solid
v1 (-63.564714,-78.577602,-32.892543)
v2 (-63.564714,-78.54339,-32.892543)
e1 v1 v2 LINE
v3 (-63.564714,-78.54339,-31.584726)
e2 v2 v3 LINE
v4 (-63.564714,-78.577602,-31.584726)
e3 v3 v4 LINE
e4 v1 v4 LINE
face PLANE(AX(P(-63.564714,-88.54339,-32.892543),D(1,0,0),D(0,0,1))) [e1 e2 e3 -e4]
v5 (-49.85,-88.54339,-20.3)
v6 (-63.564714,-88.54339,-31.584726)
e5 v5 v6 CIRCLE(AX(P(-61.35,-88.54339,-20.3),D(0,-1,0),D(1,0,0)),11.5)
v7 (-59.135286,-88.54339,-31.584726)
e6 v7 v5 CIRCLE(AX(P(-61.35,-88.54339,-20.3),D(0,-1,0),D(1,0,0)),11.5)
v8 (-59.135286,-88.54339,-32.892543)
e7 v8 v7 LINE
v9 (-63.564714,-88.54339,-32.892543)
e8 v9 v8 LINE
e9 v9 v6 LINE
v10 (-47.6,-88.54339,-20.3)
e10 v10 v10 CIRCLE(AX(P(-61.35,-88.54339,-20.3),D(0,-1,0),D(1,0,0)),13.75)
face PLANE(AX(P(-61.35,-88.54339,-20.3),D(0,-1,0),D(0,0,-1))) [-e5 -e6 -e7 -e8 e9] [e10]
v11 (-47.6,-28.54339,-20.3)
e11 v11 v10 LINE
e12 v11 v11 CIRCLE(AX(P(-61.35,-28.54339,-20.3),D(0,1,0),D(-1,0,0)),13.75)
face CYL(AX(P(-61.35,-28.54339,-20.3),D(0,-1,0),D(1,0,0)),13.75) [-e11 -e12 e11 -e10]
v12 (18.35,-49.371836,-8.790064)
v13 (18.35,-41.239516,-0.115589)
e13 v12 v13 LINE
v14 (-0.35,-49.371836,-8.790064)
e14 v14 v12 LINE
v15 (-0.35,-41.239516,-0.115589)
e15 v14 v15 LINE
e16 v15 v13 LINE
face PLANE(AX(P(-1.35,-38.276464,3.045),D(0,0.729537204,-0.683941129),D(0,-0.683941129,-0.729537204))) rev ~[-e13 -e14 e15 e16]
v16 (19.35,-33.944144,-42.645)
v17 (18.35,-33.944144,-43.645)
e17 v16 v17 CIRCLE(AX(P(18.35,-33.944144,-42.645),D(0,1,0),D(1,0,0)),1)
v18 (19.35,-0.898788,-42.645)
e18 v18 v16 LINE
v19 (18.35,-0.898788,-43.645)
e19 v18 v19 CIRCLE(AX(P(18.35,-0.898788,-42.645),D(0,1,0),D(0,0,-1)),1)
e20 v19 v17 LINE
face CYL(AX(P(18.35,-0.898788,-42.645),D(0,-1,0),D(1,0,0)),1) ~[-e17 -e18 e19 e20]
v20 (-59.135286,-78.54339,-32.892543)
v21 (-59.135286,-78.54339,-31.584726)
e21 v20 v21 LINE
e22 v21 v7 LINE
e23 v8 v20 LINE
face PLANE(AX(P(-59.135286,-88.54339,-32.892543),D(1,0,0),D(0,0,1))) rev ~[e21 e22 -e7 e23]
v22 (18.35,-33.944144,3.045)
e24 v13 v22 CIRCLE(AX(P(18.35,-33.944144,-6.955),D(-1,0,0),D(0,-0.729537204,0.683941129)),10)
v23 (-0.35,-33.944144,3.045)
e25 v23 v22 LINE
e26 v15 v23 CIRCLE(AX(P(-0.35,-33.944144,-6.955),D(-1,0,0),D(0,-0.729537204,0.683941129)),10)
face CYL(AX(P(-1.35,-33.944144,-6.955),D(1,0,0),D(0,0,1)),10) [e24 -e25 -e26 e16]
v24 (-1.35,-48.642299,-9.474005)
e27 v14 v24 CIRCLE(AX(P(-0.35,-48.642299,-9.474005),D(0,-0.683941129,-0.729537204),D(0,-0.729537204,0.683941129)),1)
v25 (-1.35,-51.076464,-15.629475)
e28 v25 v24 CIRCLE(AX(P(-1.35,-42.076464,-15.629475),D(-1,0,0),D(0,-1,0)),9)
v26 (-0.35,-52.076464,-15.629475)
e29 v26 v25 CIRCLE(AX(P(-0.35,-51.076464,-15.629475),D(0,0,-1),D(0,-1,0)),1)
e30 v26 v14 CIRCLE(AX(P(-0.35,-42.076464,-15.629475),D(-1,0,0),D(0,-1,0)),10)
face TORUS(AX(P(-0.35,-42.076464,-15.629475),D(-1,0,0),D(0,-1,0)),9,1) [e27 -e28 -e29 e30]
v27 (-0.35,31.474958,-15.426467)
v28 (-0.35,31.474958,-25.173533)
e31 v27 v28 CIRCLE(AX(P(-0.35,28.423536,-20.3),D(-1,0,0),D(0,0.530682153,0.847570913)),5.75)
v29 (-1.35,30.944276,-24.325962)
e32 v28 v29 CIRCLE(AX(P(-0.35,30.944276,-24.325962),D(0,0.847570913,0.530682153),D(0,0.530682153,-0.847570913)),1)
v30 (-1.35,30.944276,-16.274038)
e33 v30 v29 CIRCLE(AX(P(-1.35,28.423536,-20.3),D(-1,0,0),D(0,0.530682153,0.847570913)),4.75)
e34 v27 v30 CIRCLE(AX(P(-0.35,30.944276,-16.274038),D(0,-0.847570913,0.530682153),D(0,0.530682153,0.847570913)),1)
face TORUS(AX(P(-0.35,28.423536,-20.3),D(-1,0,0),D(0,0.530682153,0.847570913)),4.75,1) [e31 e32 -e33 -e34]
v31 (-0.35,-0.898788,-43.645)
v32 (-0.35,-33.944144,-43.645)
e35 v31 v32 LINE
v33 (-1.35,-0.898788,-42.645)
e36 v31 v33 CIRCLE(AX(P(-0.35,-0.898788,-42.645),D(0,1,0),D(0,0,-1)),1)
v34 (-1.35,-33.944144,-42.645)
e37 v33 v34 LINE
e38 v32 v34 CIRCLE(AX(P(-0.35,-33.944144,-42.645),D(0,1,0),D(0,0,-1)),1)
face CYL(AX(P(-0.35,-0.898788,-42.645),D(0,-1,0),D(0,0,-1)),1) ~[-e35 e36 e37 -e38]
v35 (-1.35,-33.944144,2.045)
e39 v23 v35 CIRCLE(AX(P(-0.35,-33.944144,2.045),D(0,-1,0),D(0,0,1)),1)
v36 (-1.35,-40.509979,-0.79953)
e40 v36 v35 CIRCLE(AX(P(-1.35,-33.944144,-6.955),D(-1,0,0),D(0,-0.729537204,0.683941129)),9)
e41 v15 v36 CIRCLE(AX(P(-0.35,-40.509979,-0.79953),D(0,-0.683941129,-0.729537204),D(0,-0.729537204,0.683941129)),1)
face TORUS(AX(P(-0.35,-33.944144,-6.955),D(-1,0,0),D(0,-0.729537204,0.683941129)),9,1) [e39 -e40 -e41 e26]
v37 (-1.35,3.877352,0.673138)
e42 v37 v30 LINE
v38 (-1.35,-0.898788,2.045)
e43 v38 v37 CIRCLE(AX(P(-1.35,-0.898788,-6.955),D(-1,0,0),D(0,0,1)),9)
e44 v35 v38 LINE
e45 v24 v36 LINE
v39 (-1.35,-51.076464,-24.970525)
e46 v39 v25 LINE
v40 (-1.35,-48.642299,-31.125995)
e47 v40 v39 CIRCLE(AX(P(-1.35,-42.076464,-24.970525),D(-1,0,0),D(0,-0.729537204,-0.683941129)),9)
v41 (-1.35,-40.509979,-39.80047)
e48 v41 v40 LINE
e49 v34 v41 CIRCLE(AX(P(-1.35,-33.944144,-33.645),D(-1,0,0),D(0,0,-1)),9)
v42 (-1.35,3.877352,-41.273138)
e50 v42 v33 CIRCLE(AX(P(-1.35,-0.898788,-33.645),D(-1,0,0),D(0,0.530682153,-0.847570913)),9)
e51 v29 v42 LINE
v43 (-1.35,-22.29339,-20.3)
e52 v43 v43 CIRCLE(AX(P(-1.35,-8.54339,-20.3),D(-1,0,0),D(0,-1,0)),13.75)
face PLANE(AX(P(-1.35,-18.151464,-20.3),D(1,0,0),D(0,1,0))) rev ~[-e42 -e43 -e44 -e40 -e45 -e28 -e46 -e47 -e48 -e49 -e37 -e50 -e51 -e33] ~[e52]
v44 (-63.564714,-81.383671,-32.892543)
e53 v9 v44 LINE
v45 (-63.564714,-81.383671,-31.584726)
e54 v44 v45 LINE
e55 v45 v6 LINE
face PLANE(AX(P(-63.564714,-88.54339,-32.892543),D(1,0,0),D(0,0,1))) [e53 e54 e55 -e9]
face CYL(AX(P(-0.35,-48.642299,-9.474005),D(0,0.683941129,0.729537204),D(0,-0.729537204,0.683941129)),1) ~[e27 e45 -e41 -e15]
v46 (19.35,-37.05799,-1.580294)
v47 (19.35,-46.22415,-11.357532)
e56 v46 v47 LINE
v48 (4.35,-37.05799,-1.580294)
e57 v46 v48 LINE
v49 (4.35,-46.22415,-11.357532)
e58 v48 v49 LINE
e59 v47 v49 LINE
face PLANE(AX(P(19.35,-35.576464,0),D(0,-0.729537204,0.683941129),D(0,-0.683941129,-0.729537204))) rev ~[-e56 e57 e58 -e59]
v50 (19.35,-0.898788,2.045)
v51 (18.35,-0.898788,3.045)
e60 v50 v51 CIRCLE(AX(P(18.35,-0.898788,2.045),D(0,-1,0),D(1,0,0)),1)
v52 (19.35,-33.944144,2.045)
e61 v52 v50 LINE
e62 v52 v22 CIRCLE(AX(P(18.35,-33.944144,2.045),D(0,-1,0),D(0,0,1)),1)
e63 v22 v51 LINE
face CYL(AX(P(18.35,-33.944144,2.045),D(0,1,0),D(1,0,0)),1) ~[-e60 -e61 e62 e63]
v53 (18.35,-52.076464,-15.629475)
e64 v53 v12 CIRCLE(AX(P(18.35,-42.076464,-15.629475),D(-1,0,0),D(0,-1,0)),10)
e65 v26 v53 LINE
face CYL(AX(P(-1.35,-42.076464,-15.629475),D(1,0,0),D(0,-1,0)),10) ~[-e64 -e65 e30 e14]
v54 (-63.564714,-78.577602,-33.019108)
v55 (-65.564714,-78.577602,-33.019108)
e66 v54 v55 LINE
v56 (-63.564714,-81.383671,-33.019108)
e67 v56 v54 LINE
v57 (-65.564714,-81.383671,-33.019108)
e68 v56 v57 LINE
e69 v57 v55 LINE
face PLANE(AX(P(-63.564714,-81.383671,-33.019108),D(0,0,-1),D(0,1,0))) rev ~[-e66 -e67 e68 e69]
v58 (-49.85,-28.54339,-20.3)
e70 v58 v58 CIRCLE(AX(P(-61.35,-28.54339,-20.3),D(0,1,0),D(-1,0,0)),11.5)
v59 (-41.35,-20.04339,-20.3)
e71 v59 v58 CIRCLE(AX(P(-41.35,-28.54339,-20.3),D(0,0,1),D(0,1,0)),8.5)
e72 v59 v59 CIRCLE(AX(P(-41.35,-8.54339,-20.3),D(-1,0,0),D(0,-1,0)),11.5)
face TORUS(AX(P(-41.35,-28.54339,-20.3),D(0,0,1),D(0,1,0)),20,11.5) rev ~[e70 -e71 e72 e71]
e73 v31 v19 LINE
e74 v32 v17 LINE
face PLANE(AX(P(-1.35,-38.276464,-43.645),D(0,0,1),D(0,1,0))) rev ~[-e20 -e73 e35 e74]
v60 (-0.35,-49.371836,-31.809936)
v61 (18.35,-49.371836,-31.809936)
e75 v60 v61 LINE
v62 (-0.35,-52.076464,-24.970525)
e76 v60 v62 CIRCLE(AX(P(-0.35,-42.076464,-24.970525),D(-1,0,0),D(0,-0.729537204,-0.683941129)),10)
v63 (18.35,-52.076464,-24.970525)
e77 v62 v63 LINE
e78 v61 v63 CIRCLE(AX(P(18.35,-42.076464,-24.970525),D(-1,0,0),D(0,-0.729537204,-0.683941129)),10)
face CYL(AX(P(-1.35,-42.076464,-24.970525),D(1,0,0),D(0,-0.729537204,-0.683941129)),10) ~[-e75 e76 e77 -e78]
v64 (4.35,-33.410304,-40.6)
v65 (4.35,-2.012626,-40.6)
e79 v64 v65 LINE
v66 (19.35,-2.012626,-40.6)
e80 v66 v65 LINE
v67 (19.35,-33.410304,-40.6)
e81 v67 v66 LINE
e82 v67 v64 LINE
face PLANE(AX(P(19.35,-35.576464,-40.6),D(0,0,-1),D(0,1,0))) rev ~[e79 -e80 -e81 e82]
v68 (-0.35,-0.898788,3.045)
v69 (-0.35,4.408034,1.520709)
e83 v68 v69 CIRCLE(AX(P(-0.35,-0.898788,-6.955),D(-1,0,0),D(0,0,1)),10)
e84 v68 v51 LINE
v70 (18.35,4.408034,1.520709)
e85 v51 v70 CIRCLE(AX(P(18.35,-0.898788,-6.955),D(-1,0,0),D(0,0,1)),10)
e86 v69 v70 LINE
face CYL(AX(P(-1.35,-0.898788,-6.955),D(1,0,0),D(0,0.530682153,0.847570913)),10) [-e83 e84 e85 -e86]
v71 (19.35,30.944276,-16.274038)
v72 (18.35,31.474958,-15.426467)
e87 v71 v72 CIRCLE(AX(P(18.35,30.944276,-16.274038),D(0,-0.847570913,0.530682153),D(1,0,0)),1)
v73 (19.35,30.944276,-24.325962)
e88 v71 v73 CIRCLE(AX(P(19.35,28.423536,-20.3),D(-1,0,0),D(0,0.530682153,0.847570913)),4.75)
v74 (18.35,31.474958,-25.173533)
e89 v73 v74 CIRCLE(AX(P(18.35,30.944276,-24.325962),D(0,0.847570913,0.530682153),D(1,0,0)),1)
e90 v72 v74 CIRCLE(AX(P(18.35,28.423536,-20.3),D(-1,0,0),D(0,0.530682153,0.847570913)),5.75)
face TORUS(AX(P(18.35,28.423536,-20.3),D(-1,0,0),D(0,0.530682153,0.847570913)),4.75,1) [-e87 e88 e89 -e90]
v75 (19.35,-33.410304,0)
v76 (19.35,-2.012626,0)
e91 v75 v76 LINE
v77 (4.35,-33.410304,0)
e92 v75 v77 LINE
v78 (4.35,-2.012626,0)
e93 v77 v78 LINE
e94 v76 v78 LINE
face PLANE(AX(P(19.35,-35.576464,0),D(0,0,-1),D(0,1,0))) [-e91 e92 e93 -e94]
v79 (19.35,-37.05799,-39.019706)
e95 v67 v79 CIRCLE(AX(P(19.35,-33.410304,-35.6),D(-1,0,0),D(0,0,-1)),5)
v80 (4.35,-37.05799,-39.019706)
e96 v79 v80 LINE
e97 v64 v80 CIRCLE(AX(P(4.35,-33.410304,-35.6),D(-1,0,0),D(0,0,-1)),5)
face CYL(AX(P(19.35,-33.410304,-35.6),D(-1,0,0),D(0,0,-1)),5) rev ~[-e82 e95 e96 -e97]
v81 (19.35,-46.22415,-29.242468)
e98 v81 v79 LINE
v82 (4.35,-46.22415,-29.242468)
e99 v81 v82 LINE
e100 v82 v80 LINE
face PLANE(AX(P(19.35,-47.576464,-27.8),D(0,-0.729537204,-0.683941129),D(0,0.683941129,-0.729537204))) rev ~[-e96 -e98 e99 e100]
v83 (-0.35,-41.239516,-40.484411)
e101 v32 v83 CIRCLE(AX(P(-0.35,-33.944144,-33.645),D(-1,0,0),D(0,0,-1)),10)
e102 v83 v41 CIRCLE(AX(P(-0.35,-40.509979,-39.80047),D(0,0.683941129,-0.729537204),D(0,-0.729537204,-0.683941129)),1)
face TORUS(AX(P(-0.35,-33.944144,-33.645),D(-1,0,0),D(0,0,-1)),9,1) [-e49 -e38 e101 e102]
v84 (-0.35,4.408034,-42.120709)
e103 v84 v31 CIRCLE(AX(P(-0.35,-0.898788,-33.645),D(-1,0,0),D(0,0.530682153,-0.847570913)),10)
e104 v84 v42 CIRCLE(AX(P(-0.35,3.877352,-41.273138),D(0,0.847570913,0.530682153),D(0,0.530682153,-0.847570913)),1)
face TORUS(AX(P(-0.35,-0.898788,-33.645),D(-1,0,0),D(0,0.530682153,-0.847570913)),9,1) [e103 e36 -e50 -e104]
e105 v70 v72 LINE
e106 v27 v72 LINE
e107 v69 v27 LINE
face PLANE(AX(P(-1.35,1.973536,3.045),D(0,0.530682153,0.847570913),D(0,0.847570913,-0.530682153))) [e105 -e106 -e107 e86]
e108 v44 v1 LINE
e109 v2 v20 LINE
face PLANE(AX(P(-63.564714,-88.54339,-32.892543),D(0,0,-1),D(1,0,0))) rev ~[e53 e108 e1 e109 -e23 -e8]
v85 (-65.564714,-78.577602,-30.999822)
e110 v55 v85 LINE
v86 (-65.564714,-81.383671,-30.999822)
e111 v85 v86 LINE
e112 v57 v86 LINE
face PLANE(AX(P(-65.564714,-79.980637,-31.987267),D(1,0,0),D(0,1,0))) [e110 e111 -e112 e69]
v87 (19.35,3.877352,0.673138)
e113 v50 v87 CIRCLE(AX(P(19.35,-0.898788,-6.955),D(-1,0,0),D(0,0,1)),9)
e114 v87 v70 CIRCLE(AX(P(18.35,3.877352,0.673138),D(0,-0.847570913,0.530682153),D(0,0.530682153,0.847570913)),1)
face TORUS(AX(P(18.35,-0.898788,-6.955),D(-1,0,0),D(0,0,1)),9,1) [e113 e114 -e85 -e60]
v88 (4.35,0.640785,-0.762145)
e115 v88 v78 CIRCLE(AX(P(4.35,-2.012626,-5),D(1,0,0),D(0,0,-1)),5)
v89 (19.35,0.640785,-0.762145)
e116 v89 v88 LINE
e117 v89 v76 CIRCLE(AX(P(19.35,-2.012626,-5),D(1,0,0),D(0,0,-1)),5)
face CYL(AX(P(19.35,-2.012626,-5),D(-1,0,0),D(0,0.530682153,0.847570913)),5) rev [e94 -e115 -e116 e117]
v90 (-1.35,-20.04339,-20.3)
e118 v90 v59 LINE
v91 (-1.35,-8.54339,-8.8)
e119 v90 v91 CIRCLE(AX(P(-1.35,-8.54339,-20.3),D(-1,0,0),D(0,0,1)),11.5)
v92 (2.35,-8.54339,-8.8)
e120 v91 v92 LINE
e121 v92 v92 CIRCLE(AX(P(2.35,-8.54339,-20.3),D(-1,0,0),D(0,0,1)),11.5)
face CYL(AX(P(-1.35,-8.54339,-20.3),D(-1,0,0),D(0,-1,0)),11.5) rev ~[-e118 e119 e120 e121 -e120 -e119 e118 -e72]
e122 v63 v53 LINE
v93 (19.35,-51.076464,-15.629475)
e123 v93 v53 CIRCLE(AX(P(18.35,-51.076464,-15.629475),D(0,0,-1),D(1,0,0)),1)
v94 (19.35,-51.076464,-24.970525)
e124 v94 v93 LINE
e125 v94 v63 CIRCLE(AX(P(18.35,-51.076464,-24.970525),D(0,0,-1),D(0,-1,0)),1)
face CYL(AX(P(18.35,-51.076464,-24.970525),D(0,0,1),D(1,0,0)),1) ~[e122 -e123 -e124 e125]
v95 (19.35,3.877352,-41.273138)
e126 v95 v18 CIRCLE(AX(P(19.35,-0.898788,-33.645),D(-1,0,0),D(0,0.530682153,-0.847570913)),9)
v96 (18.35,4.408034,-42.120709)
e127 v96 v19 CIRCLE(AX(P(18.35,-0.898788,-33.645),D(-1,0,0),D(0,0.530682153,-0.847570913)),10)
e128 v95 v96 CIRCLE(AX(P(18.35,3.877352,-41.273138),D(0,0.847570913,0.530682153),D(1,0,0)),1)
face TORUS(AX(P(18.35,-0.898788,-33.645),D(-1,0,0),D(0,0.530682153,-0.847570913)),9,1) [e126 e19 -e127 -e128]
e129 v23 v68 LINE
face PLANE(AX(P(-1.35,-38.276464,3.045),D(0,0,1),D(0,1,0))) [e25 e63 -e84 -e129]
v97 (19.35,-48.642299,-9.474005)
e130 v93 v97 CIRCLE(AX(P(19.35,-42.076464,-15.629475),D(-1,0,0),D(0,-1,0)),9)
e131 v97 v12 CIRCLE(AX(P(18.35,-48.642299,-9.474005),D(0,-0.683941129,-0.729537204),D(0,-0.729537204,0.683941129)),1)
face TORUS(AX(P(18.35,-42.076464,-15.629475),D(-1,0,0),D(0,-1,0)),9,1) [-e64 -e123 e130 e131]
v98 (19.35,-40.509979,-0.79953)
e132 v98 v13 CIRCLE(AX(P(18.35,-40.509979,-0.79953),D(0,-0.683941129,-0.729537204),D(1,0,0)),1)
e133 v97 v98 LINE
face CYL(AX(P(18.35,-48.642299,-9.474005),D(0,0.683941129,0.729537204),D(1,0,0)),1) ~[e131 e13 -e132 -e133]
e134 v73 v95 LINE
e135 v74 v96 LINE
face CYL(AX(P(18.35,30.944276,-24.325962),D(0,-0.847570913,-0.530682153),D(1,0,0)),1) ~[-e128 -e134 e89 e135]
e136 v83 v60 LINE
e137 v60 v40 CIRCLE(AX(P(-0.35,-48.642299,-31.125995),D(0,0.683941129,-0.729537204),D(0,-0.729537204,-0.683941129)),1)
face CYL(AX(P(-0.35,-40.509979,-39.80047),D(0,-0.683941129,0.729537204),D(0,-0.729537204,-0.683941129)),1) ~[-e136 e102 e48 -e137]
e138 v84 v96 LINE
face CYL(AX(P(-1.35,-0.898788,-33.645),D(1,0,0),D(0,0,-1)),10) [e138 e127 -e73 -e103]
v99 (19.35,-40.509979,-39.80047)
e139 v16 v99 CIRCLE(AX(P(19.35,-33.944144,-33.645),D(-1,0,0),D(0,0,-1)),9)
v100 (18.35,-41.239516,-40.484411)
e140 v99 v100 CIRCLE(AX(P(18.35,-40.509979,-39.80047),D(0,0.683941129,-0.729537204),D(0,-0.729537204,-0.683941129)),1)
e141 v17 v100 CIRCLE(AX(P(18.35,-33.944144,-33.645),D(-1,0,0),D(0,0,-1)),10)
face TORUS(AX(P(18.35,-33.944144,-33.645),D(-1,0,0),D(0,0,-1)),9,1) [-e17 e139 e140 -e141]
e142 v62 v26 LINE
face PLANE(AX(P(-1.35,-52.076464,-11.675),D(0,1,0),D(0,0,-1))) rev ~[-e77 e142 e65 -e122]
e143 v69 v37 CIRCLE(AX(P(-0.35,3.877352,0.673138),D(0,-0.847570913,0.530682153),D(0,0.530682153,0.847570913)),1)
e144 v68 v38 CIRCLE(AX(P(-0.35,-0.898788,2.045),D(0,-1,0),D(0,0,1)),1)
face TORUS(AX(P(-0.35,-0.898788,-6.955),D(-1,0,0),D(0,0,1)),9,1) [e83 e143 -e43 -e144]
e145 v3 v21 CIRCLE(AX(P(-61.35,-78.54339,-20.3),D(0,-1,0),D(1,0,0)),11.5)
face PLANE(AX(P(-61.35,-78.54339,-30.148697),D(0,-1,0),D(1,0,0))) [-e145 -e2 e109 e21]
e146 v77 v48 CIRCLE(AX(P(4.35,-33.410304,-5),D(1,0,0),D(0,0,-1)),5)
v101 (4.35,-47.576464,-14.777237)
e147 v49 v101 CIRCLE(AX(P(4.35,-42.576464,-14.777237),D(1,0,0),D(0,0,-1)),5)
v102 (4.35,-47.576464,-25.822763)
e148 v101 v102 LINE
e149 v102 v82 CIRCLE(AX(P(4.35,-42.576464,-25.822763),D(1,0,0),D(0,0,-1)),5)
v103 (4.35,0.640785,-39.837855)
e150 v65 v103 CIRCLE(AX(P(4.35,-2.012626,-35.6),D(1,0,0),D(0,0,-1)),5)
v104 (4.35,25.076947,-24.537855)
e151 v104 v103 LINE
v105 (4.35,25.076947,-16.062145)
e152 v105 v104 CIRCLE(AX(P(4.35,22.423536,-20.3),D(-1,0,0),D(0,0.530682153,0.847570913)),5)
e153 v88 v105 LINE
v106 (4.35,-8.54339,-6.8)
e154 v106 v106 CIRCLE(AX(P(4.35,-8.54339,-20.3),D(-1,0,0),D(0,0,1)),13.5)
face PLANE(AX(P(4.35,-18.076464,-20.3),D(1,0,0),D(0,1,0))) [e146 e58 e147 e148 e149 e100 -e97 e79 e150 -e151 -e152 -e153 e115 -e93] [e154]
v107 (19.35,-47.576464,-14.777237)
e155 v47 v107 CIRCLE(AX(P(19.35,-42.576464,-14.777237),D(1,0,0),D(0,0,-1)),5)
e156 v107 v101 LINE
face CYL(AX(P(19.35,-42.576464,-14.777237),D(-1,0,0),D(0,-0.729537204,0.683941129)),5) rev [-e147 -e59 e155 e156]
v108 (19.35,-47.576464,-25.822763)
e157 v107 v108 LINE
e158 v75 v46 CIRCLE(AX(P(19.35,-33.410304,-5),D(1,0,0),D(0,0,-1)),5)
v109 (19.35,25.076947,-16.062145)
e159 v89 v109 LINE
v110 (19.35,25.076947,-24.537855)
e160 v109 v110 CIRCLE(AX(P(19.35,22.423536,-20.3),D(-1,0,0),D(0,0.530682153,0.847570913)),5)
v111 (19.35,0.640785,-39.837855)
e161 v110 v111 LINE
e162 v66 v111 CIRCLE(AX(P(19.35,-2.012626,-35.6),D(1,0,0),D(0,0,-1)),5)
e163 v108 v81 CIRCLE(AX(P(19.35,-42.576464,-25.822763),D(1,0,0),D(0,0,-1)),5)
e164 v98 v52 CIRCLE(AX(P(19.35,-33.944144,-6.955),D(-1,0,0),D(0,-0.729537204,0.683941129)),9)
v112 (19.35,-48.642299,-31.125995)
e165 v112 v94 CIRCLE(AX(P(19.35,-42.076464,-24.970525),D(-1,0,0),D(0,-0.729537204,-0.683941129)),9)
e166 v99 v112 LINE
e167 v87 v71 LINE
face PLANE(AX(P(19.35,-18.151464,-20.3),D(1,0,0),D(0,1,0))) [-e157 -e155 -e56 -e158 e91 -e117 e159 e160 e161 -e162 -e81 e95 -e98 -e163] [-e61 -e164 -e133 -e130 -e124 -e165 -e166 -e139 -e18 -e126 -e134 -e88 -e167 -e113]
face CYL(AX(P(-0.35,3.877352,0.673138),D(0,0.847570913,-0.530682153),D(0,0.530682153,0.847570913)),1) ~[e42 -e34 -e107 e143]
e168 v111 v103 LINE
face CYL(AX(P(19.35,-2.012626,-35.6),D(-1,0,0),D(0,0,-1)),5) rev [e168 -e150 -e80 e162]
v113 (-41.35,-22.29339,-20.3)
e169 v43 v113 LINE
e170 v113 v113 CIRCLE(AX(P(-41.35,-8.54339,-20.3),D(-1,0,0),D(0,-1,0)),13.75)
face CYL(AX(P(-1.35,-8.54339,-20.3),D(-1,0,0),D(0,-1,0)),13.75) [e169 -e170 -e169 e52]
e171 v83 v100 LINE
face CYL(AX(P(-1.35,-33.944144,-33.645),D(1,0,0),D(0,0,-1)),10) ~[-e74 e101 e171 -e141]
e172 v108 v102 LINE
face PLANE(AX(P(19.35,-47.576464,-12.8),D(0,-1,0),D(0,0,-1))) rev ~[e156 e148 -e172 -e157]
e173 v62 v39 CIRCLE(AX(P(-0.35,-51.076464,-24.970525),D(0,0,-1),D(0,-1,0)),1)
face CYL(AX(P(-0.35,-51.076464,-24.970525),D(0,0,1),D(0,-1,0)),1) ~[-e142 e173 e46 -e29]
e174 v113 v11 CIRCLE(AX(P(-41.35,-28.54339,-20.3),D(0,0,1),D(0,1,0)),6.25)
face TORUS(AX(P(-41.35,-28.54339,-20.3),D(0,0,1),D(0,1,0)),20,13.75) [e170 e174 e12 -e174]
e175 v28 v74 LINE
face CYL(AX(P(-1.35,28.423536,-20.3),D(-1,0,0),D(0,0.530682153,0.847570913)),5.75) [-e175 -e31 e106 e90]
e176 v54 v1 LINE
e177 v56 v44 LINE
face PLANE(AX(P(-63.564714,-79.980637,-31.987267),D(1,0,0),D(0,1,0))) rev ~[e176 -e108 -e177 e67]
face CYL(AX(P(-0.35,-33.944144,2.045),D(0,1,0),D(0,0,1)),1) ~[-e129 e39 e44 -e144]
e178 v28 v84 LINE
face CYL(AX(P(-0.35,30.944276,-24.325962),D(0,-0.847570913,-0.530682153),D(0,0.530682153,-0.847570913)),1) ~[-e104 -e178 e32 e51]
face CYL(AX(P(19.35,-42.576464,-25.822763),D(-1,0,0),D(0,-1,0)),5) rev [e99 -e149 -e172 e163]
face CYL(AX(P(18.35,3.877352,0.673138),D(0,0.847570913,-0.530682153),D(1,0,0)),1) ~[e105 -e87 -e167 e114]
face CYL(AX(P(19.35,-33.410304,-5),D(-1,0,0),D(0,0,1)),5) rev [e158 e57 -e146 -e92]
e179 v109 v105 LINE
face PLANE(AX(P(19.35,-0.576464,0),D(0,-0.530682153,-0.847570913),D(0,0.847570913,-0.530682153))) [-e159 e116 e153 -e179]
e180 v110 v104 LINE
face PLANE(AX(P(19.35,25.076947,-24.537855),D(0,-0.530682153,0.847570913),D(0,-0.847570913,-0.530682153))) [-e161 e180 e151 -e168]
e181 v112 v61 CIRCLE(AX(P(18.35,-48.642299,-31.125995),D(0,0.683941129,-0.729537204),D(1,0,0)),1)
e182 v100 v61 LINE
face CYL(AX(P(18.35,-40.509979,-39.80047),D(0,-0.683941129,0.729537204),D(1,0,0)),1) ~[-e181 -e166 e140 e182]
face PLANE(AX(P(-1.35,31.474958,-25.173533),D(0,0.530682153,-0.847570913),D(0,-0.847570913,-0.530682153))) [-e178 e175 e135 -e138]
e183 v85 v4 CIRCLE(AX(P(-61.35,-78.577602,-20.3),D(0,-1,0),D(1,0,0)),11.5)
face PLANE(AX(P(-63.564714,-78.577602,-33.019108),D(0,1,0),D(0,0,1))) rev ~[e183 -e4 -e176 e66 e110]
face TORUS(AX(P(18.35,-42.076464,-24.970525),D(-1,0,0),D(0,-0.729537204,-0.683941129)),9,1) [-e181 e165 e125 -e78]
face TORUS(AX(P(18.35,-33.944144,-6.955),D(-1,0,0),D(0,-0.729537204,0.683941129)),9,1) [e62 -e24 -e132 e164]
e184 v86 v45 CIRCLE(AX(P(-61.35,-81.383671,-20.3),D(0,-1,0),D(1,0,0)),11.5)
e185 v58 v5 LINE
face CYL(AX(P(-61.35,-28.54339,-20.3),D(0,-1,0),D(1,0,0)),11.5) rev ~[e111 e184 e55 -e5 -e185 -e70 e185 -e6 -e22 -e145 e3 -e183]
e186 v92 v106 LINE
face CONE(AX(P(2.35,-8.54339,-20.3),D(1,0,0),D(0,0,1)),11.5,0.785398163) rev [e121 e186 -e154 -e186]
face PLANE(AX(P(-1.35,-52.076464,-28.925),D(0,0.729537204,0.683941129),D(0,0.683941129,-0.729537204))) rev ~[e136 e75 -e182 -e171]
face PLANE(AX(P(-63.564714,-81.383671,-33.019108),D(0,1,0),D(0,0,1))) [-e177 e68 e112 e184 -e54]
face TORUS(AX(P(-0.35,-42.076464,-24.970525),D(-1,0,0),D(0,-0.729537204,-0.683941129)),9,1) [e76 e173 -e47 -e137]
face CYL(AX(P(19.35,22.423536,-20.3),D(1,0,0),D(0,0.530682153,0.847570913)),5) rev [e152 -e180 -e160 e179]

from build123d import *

# Parameters (mm, degrees)
BOSS_EXTRUDE1_DEPTH  = 18
SCALE1_SCALE         = 1.15
CUT_EXTRUDE1_DEPTH   = 15
FILLET1_R            = 10
FILLET2_R            = 5
FILLET3_R            = 1
FILLET4_R            = 1
SKETCH9_R            = 11.5
CUT_EXTRUDE2_DEPTH   = 72.03051567
CHAMFER1_SIZE        = 2
SWEEP1_PROFILE_R     = 13.75
CUT_SWEEP2_PROFILE_R = 11.5
SKETCH13_W           = 4.429427916
SKETCH13_H           = 5.487691531
CUT_EXTRUDE3_DEPTH   = 10
SKETCH34_W           = 2.806069431
SKETCH34_H           = 2.063682343
CUT_EXTRUDE6_DEPTH   = 2


with BuildPart() as part:
    # Sketch1 → Boss-Extrude1 (new body)
    with BuildSketch(Plane.YZ):
        with BuildLine():
            Line((-35, -40.6), (0, -40.6))
            Line((0, -40.6), (25.653410767, -24.537854564))
            ThreePointArc((25.653410767, -24.537854564), (28, -20.3), (25.653410767, -16.062145436))
            Line((25.653410767, -16.062145436), (0, 0))
            Line((0, 0), (-35, 0))
            Line((-35, 0), (-47, -12.8))
            Line((-47, -12.8), (-47, -27.8))
            Line((-47, -27.8), (-35, -40.6))
        make_face()
    extrude(amount=BOSS_EXTRUDE1_DEPTH)


with BuildPart() as part_1:
    # Scale1: scaled about (9, -13.156905102, -20.3)
    add(part.part.scale(SCALE1_SCALE).moved(Location((-1.35, 1.973535765, 3.045))))

    # Sketch7 → Cut-Extrude1 (cut)
    with BuildSketch(Plane.YZ.offset(19.35)):
        with BuildLine():
            Line((-35.576464235, -40.6), (-0.576464235, -40.6))
            Line((-0.576464235, -40.6), (25.076946532, -24.537854564))
            ThreePointArc((25.076946532, -24.537854564), (27.423535765, -20.3), (25.076946532, -16.062145436))
            Line((25.076946532, -16.062145436), (-0.576464235, 0))
            Line((-0.576464235, 0), (-35.576464235, 0))
            Line((-35.576464235, 0), (-47.576464235, -12.8))
            Line((-47.576464235, -12.8), (-47.576464235, -27.8))
            Line((-47.576464235, -27.8), (-35.576464235, -40.6))
        make_face()
    extrude(amount=-CUT_EXTRUDE1_DEPTH, mode=Mode.SUBTRACT)

    # Fillet1
    fillet1_edges = [part_1.edges().sort_by_distance(p)[0] for p in [
        (9, 1.973535765, 3.045),
        (9, -38.276464235, 3.045),
        (9, -52.076464235, -11.675),
        (9, -52.076464235, -28.925),
        (9, 1.973535765, -43.645),
        (9, -38.276464235, -43.645),
    ]]
    fillet(fillet1_edges, radius=FILLET1_R)

    # Fillet2
    fillet2_edges = [part_1.edges().sort_by_distance(p)[0] for p in [
        (11.85, -0.576464235, -40.6),
        (11.85, -35.576464235, -40.6),
        (11.85, -47.576464235, -27.8),
        (11.85, -47.576464235, -12.8),
        (11.85, -0.576464235, 0),
        (11.85, -35.576464235, 0),
    ]]
    fillet(fillet2_edges, radius=FILLET2_R)

    # Fillet3
    fillet3_edges = [part_1.edges().sort_by_distance(p)[0] for p in [
        (19.35, -45.305676214, -36.147173889),
        (19.35, -51.375757767, -28.647907393),
        (19.35, -52.076464235, -20.3),
        (19.35, -51.375757767, -11.952092607),
        (19.35, -45.305676214, -4.452826111),
        (19.35, -37.919435742, 2.220895403),
        (19.35, -17.421465972, 3.045),
        (19.35, 1.861910332, 2.656375845),
        (19.35, 17.941495924, -6.952879062),
        (19.35, 34.173535765, -20.3),
        (19.35, 17.941495924, -33.647120938),
        (19.35, 1.861910332, -43.256375845),
        (19.35, -17.421465972, -43.645),
        (19.35, -37.919435742, -42.820895403),
    ]]
    fillet(fillet3_edges, radius=FILLET3_R)

    # Fillet4
    fillet4_edges = [part_1.edges().sort_by_distance(p)[0] for p in [
        (-1.35, 1.861910332, -43.256375845),
        (-1.35, 17.941495924, -33.647120938),
        (-1.35, 34.173535765, -20.3),
        (-1.35, 17.941495924, -6.952879062),
        (-1.35, 1.861910332, 2.656375845),
        (-1.35, -17.421465972, 3.045),
        (-1.35, -37.919435742, 2.220895403),
        (-1.35, -45.305676214, -4.452826111),
        (-1.35, -51.375757767, -11.952092607),
        (-1.35, -52.076464235, -20.3),
        (-1.35, -51.375757767, -28.647907393),
        (-1.35, -45.305676214, -36.147173889),
        (-1.35, -37.919435742, -42.820895403),
        (-1.35, -17.421465972, -43.645),
    ]]
    fillet(fillet4_edges, radius=FILLET4_R)

    # Sketch9 → Cut-Extrude2 (cut, through all)
    with BuildSketch(Plane(origin=(-1.35, 0, 0), x_dir=(0, -1, 0), z_dir=(-1, 0, 0))):
        with Locations((8.54339023, -20.3)):
            Circle(SKETCH9_R)
    extrude(amount=-CUT_EXTRUDE2_DEPTH, mode=Mode.SUBTRACT)

    # Chamfer1
    chamfer1_edges = [part_1.edges().sort_by_distance(p)[0] for p in [
        (4.35, 2.95660977, -20.3),
    ]]
    chamfer(chamfer1_edges, length=CHAMFER1_SIZE)

    # Sweep1: sweep along a path in Sketch11
    with BuildLine(Plane.XY.offset(-20.3)) as sweep1_path:
        Line((-1.35, -8.54339023), (-41.35, -8.54339023))
        ThreePointArc((-41.35, -8.54339023), (-55.492135624, -14.401254607), (-61.35, -28.54339023))
        Line((-61.35, -28.54339023), (-61.35, -88.54339023))
    # Sweep1 profile (on start of the path) → Sweep1 (sweep)
    with BuildSketch(Plane(origin=(-1.35, -8.54339023, -20.3), x_dir=(0, -1, 0), z_dir=(-1, 0, 0))):
        Circle(SWEEP1_PROFILE_R)
    sweep(path=sweep1_path.line)

    # Cut-Sweep2: sweep along a path in Sketch11<3>
    with BuildLine(Plane.XY.offset(-20.3)) as cut_sweep2_path:
        Line((-1.35, -8.54339023), (-41.35, -8.54339023))
        ThreePointArc((-41.35, -8.54339023), (-55.492135624, -14.401254607), (-61.35, -28.54339023))
        Line((-61.35, -28.54339023), (-61.35, -88.54339023))
    # Cut-Sweep2 profile (on start of the path) → Cut-Sweep2 (sweep, cut)
    with BuildSketch(Plane(origin=(-1.35, -8.54339023, -20.3), x_dir=(0, -1, 0), z_dir=(-1, 0, 0))):
        Circle(CUT_SWEEP2_PROFILE_R)
    sweep(path=cut_sweep2_path.line, mode=Mode.SUBTRACT)

    # Sketch13 → Cut-Extrude3 (cut)
    with BuildSketch(Plane.XZ.offset(88.54339023)):
        with Locations((-61.35, -30.148697086)):
            Rectangle(SKETCH13_W, SKETCH13_H)
    extrude(amount=-CUT_EXTRUDE3_DEPTH, mode=Mode.SUBTRACT)

    # Sketch34 → Cut-Extrude6 (cut)
    with BuildSketch(Plane.YZ.offset(-63.564713958)):
        with Locations((-79.980636632, -31.987266617)):
            Rectangle(SKETCH34_W, SKETCH34_H)
    extrude(amount=-CUT_EXTRUDE6_DEPTH, mode=Mode.SUBTRACT)


solid = part_1.part
